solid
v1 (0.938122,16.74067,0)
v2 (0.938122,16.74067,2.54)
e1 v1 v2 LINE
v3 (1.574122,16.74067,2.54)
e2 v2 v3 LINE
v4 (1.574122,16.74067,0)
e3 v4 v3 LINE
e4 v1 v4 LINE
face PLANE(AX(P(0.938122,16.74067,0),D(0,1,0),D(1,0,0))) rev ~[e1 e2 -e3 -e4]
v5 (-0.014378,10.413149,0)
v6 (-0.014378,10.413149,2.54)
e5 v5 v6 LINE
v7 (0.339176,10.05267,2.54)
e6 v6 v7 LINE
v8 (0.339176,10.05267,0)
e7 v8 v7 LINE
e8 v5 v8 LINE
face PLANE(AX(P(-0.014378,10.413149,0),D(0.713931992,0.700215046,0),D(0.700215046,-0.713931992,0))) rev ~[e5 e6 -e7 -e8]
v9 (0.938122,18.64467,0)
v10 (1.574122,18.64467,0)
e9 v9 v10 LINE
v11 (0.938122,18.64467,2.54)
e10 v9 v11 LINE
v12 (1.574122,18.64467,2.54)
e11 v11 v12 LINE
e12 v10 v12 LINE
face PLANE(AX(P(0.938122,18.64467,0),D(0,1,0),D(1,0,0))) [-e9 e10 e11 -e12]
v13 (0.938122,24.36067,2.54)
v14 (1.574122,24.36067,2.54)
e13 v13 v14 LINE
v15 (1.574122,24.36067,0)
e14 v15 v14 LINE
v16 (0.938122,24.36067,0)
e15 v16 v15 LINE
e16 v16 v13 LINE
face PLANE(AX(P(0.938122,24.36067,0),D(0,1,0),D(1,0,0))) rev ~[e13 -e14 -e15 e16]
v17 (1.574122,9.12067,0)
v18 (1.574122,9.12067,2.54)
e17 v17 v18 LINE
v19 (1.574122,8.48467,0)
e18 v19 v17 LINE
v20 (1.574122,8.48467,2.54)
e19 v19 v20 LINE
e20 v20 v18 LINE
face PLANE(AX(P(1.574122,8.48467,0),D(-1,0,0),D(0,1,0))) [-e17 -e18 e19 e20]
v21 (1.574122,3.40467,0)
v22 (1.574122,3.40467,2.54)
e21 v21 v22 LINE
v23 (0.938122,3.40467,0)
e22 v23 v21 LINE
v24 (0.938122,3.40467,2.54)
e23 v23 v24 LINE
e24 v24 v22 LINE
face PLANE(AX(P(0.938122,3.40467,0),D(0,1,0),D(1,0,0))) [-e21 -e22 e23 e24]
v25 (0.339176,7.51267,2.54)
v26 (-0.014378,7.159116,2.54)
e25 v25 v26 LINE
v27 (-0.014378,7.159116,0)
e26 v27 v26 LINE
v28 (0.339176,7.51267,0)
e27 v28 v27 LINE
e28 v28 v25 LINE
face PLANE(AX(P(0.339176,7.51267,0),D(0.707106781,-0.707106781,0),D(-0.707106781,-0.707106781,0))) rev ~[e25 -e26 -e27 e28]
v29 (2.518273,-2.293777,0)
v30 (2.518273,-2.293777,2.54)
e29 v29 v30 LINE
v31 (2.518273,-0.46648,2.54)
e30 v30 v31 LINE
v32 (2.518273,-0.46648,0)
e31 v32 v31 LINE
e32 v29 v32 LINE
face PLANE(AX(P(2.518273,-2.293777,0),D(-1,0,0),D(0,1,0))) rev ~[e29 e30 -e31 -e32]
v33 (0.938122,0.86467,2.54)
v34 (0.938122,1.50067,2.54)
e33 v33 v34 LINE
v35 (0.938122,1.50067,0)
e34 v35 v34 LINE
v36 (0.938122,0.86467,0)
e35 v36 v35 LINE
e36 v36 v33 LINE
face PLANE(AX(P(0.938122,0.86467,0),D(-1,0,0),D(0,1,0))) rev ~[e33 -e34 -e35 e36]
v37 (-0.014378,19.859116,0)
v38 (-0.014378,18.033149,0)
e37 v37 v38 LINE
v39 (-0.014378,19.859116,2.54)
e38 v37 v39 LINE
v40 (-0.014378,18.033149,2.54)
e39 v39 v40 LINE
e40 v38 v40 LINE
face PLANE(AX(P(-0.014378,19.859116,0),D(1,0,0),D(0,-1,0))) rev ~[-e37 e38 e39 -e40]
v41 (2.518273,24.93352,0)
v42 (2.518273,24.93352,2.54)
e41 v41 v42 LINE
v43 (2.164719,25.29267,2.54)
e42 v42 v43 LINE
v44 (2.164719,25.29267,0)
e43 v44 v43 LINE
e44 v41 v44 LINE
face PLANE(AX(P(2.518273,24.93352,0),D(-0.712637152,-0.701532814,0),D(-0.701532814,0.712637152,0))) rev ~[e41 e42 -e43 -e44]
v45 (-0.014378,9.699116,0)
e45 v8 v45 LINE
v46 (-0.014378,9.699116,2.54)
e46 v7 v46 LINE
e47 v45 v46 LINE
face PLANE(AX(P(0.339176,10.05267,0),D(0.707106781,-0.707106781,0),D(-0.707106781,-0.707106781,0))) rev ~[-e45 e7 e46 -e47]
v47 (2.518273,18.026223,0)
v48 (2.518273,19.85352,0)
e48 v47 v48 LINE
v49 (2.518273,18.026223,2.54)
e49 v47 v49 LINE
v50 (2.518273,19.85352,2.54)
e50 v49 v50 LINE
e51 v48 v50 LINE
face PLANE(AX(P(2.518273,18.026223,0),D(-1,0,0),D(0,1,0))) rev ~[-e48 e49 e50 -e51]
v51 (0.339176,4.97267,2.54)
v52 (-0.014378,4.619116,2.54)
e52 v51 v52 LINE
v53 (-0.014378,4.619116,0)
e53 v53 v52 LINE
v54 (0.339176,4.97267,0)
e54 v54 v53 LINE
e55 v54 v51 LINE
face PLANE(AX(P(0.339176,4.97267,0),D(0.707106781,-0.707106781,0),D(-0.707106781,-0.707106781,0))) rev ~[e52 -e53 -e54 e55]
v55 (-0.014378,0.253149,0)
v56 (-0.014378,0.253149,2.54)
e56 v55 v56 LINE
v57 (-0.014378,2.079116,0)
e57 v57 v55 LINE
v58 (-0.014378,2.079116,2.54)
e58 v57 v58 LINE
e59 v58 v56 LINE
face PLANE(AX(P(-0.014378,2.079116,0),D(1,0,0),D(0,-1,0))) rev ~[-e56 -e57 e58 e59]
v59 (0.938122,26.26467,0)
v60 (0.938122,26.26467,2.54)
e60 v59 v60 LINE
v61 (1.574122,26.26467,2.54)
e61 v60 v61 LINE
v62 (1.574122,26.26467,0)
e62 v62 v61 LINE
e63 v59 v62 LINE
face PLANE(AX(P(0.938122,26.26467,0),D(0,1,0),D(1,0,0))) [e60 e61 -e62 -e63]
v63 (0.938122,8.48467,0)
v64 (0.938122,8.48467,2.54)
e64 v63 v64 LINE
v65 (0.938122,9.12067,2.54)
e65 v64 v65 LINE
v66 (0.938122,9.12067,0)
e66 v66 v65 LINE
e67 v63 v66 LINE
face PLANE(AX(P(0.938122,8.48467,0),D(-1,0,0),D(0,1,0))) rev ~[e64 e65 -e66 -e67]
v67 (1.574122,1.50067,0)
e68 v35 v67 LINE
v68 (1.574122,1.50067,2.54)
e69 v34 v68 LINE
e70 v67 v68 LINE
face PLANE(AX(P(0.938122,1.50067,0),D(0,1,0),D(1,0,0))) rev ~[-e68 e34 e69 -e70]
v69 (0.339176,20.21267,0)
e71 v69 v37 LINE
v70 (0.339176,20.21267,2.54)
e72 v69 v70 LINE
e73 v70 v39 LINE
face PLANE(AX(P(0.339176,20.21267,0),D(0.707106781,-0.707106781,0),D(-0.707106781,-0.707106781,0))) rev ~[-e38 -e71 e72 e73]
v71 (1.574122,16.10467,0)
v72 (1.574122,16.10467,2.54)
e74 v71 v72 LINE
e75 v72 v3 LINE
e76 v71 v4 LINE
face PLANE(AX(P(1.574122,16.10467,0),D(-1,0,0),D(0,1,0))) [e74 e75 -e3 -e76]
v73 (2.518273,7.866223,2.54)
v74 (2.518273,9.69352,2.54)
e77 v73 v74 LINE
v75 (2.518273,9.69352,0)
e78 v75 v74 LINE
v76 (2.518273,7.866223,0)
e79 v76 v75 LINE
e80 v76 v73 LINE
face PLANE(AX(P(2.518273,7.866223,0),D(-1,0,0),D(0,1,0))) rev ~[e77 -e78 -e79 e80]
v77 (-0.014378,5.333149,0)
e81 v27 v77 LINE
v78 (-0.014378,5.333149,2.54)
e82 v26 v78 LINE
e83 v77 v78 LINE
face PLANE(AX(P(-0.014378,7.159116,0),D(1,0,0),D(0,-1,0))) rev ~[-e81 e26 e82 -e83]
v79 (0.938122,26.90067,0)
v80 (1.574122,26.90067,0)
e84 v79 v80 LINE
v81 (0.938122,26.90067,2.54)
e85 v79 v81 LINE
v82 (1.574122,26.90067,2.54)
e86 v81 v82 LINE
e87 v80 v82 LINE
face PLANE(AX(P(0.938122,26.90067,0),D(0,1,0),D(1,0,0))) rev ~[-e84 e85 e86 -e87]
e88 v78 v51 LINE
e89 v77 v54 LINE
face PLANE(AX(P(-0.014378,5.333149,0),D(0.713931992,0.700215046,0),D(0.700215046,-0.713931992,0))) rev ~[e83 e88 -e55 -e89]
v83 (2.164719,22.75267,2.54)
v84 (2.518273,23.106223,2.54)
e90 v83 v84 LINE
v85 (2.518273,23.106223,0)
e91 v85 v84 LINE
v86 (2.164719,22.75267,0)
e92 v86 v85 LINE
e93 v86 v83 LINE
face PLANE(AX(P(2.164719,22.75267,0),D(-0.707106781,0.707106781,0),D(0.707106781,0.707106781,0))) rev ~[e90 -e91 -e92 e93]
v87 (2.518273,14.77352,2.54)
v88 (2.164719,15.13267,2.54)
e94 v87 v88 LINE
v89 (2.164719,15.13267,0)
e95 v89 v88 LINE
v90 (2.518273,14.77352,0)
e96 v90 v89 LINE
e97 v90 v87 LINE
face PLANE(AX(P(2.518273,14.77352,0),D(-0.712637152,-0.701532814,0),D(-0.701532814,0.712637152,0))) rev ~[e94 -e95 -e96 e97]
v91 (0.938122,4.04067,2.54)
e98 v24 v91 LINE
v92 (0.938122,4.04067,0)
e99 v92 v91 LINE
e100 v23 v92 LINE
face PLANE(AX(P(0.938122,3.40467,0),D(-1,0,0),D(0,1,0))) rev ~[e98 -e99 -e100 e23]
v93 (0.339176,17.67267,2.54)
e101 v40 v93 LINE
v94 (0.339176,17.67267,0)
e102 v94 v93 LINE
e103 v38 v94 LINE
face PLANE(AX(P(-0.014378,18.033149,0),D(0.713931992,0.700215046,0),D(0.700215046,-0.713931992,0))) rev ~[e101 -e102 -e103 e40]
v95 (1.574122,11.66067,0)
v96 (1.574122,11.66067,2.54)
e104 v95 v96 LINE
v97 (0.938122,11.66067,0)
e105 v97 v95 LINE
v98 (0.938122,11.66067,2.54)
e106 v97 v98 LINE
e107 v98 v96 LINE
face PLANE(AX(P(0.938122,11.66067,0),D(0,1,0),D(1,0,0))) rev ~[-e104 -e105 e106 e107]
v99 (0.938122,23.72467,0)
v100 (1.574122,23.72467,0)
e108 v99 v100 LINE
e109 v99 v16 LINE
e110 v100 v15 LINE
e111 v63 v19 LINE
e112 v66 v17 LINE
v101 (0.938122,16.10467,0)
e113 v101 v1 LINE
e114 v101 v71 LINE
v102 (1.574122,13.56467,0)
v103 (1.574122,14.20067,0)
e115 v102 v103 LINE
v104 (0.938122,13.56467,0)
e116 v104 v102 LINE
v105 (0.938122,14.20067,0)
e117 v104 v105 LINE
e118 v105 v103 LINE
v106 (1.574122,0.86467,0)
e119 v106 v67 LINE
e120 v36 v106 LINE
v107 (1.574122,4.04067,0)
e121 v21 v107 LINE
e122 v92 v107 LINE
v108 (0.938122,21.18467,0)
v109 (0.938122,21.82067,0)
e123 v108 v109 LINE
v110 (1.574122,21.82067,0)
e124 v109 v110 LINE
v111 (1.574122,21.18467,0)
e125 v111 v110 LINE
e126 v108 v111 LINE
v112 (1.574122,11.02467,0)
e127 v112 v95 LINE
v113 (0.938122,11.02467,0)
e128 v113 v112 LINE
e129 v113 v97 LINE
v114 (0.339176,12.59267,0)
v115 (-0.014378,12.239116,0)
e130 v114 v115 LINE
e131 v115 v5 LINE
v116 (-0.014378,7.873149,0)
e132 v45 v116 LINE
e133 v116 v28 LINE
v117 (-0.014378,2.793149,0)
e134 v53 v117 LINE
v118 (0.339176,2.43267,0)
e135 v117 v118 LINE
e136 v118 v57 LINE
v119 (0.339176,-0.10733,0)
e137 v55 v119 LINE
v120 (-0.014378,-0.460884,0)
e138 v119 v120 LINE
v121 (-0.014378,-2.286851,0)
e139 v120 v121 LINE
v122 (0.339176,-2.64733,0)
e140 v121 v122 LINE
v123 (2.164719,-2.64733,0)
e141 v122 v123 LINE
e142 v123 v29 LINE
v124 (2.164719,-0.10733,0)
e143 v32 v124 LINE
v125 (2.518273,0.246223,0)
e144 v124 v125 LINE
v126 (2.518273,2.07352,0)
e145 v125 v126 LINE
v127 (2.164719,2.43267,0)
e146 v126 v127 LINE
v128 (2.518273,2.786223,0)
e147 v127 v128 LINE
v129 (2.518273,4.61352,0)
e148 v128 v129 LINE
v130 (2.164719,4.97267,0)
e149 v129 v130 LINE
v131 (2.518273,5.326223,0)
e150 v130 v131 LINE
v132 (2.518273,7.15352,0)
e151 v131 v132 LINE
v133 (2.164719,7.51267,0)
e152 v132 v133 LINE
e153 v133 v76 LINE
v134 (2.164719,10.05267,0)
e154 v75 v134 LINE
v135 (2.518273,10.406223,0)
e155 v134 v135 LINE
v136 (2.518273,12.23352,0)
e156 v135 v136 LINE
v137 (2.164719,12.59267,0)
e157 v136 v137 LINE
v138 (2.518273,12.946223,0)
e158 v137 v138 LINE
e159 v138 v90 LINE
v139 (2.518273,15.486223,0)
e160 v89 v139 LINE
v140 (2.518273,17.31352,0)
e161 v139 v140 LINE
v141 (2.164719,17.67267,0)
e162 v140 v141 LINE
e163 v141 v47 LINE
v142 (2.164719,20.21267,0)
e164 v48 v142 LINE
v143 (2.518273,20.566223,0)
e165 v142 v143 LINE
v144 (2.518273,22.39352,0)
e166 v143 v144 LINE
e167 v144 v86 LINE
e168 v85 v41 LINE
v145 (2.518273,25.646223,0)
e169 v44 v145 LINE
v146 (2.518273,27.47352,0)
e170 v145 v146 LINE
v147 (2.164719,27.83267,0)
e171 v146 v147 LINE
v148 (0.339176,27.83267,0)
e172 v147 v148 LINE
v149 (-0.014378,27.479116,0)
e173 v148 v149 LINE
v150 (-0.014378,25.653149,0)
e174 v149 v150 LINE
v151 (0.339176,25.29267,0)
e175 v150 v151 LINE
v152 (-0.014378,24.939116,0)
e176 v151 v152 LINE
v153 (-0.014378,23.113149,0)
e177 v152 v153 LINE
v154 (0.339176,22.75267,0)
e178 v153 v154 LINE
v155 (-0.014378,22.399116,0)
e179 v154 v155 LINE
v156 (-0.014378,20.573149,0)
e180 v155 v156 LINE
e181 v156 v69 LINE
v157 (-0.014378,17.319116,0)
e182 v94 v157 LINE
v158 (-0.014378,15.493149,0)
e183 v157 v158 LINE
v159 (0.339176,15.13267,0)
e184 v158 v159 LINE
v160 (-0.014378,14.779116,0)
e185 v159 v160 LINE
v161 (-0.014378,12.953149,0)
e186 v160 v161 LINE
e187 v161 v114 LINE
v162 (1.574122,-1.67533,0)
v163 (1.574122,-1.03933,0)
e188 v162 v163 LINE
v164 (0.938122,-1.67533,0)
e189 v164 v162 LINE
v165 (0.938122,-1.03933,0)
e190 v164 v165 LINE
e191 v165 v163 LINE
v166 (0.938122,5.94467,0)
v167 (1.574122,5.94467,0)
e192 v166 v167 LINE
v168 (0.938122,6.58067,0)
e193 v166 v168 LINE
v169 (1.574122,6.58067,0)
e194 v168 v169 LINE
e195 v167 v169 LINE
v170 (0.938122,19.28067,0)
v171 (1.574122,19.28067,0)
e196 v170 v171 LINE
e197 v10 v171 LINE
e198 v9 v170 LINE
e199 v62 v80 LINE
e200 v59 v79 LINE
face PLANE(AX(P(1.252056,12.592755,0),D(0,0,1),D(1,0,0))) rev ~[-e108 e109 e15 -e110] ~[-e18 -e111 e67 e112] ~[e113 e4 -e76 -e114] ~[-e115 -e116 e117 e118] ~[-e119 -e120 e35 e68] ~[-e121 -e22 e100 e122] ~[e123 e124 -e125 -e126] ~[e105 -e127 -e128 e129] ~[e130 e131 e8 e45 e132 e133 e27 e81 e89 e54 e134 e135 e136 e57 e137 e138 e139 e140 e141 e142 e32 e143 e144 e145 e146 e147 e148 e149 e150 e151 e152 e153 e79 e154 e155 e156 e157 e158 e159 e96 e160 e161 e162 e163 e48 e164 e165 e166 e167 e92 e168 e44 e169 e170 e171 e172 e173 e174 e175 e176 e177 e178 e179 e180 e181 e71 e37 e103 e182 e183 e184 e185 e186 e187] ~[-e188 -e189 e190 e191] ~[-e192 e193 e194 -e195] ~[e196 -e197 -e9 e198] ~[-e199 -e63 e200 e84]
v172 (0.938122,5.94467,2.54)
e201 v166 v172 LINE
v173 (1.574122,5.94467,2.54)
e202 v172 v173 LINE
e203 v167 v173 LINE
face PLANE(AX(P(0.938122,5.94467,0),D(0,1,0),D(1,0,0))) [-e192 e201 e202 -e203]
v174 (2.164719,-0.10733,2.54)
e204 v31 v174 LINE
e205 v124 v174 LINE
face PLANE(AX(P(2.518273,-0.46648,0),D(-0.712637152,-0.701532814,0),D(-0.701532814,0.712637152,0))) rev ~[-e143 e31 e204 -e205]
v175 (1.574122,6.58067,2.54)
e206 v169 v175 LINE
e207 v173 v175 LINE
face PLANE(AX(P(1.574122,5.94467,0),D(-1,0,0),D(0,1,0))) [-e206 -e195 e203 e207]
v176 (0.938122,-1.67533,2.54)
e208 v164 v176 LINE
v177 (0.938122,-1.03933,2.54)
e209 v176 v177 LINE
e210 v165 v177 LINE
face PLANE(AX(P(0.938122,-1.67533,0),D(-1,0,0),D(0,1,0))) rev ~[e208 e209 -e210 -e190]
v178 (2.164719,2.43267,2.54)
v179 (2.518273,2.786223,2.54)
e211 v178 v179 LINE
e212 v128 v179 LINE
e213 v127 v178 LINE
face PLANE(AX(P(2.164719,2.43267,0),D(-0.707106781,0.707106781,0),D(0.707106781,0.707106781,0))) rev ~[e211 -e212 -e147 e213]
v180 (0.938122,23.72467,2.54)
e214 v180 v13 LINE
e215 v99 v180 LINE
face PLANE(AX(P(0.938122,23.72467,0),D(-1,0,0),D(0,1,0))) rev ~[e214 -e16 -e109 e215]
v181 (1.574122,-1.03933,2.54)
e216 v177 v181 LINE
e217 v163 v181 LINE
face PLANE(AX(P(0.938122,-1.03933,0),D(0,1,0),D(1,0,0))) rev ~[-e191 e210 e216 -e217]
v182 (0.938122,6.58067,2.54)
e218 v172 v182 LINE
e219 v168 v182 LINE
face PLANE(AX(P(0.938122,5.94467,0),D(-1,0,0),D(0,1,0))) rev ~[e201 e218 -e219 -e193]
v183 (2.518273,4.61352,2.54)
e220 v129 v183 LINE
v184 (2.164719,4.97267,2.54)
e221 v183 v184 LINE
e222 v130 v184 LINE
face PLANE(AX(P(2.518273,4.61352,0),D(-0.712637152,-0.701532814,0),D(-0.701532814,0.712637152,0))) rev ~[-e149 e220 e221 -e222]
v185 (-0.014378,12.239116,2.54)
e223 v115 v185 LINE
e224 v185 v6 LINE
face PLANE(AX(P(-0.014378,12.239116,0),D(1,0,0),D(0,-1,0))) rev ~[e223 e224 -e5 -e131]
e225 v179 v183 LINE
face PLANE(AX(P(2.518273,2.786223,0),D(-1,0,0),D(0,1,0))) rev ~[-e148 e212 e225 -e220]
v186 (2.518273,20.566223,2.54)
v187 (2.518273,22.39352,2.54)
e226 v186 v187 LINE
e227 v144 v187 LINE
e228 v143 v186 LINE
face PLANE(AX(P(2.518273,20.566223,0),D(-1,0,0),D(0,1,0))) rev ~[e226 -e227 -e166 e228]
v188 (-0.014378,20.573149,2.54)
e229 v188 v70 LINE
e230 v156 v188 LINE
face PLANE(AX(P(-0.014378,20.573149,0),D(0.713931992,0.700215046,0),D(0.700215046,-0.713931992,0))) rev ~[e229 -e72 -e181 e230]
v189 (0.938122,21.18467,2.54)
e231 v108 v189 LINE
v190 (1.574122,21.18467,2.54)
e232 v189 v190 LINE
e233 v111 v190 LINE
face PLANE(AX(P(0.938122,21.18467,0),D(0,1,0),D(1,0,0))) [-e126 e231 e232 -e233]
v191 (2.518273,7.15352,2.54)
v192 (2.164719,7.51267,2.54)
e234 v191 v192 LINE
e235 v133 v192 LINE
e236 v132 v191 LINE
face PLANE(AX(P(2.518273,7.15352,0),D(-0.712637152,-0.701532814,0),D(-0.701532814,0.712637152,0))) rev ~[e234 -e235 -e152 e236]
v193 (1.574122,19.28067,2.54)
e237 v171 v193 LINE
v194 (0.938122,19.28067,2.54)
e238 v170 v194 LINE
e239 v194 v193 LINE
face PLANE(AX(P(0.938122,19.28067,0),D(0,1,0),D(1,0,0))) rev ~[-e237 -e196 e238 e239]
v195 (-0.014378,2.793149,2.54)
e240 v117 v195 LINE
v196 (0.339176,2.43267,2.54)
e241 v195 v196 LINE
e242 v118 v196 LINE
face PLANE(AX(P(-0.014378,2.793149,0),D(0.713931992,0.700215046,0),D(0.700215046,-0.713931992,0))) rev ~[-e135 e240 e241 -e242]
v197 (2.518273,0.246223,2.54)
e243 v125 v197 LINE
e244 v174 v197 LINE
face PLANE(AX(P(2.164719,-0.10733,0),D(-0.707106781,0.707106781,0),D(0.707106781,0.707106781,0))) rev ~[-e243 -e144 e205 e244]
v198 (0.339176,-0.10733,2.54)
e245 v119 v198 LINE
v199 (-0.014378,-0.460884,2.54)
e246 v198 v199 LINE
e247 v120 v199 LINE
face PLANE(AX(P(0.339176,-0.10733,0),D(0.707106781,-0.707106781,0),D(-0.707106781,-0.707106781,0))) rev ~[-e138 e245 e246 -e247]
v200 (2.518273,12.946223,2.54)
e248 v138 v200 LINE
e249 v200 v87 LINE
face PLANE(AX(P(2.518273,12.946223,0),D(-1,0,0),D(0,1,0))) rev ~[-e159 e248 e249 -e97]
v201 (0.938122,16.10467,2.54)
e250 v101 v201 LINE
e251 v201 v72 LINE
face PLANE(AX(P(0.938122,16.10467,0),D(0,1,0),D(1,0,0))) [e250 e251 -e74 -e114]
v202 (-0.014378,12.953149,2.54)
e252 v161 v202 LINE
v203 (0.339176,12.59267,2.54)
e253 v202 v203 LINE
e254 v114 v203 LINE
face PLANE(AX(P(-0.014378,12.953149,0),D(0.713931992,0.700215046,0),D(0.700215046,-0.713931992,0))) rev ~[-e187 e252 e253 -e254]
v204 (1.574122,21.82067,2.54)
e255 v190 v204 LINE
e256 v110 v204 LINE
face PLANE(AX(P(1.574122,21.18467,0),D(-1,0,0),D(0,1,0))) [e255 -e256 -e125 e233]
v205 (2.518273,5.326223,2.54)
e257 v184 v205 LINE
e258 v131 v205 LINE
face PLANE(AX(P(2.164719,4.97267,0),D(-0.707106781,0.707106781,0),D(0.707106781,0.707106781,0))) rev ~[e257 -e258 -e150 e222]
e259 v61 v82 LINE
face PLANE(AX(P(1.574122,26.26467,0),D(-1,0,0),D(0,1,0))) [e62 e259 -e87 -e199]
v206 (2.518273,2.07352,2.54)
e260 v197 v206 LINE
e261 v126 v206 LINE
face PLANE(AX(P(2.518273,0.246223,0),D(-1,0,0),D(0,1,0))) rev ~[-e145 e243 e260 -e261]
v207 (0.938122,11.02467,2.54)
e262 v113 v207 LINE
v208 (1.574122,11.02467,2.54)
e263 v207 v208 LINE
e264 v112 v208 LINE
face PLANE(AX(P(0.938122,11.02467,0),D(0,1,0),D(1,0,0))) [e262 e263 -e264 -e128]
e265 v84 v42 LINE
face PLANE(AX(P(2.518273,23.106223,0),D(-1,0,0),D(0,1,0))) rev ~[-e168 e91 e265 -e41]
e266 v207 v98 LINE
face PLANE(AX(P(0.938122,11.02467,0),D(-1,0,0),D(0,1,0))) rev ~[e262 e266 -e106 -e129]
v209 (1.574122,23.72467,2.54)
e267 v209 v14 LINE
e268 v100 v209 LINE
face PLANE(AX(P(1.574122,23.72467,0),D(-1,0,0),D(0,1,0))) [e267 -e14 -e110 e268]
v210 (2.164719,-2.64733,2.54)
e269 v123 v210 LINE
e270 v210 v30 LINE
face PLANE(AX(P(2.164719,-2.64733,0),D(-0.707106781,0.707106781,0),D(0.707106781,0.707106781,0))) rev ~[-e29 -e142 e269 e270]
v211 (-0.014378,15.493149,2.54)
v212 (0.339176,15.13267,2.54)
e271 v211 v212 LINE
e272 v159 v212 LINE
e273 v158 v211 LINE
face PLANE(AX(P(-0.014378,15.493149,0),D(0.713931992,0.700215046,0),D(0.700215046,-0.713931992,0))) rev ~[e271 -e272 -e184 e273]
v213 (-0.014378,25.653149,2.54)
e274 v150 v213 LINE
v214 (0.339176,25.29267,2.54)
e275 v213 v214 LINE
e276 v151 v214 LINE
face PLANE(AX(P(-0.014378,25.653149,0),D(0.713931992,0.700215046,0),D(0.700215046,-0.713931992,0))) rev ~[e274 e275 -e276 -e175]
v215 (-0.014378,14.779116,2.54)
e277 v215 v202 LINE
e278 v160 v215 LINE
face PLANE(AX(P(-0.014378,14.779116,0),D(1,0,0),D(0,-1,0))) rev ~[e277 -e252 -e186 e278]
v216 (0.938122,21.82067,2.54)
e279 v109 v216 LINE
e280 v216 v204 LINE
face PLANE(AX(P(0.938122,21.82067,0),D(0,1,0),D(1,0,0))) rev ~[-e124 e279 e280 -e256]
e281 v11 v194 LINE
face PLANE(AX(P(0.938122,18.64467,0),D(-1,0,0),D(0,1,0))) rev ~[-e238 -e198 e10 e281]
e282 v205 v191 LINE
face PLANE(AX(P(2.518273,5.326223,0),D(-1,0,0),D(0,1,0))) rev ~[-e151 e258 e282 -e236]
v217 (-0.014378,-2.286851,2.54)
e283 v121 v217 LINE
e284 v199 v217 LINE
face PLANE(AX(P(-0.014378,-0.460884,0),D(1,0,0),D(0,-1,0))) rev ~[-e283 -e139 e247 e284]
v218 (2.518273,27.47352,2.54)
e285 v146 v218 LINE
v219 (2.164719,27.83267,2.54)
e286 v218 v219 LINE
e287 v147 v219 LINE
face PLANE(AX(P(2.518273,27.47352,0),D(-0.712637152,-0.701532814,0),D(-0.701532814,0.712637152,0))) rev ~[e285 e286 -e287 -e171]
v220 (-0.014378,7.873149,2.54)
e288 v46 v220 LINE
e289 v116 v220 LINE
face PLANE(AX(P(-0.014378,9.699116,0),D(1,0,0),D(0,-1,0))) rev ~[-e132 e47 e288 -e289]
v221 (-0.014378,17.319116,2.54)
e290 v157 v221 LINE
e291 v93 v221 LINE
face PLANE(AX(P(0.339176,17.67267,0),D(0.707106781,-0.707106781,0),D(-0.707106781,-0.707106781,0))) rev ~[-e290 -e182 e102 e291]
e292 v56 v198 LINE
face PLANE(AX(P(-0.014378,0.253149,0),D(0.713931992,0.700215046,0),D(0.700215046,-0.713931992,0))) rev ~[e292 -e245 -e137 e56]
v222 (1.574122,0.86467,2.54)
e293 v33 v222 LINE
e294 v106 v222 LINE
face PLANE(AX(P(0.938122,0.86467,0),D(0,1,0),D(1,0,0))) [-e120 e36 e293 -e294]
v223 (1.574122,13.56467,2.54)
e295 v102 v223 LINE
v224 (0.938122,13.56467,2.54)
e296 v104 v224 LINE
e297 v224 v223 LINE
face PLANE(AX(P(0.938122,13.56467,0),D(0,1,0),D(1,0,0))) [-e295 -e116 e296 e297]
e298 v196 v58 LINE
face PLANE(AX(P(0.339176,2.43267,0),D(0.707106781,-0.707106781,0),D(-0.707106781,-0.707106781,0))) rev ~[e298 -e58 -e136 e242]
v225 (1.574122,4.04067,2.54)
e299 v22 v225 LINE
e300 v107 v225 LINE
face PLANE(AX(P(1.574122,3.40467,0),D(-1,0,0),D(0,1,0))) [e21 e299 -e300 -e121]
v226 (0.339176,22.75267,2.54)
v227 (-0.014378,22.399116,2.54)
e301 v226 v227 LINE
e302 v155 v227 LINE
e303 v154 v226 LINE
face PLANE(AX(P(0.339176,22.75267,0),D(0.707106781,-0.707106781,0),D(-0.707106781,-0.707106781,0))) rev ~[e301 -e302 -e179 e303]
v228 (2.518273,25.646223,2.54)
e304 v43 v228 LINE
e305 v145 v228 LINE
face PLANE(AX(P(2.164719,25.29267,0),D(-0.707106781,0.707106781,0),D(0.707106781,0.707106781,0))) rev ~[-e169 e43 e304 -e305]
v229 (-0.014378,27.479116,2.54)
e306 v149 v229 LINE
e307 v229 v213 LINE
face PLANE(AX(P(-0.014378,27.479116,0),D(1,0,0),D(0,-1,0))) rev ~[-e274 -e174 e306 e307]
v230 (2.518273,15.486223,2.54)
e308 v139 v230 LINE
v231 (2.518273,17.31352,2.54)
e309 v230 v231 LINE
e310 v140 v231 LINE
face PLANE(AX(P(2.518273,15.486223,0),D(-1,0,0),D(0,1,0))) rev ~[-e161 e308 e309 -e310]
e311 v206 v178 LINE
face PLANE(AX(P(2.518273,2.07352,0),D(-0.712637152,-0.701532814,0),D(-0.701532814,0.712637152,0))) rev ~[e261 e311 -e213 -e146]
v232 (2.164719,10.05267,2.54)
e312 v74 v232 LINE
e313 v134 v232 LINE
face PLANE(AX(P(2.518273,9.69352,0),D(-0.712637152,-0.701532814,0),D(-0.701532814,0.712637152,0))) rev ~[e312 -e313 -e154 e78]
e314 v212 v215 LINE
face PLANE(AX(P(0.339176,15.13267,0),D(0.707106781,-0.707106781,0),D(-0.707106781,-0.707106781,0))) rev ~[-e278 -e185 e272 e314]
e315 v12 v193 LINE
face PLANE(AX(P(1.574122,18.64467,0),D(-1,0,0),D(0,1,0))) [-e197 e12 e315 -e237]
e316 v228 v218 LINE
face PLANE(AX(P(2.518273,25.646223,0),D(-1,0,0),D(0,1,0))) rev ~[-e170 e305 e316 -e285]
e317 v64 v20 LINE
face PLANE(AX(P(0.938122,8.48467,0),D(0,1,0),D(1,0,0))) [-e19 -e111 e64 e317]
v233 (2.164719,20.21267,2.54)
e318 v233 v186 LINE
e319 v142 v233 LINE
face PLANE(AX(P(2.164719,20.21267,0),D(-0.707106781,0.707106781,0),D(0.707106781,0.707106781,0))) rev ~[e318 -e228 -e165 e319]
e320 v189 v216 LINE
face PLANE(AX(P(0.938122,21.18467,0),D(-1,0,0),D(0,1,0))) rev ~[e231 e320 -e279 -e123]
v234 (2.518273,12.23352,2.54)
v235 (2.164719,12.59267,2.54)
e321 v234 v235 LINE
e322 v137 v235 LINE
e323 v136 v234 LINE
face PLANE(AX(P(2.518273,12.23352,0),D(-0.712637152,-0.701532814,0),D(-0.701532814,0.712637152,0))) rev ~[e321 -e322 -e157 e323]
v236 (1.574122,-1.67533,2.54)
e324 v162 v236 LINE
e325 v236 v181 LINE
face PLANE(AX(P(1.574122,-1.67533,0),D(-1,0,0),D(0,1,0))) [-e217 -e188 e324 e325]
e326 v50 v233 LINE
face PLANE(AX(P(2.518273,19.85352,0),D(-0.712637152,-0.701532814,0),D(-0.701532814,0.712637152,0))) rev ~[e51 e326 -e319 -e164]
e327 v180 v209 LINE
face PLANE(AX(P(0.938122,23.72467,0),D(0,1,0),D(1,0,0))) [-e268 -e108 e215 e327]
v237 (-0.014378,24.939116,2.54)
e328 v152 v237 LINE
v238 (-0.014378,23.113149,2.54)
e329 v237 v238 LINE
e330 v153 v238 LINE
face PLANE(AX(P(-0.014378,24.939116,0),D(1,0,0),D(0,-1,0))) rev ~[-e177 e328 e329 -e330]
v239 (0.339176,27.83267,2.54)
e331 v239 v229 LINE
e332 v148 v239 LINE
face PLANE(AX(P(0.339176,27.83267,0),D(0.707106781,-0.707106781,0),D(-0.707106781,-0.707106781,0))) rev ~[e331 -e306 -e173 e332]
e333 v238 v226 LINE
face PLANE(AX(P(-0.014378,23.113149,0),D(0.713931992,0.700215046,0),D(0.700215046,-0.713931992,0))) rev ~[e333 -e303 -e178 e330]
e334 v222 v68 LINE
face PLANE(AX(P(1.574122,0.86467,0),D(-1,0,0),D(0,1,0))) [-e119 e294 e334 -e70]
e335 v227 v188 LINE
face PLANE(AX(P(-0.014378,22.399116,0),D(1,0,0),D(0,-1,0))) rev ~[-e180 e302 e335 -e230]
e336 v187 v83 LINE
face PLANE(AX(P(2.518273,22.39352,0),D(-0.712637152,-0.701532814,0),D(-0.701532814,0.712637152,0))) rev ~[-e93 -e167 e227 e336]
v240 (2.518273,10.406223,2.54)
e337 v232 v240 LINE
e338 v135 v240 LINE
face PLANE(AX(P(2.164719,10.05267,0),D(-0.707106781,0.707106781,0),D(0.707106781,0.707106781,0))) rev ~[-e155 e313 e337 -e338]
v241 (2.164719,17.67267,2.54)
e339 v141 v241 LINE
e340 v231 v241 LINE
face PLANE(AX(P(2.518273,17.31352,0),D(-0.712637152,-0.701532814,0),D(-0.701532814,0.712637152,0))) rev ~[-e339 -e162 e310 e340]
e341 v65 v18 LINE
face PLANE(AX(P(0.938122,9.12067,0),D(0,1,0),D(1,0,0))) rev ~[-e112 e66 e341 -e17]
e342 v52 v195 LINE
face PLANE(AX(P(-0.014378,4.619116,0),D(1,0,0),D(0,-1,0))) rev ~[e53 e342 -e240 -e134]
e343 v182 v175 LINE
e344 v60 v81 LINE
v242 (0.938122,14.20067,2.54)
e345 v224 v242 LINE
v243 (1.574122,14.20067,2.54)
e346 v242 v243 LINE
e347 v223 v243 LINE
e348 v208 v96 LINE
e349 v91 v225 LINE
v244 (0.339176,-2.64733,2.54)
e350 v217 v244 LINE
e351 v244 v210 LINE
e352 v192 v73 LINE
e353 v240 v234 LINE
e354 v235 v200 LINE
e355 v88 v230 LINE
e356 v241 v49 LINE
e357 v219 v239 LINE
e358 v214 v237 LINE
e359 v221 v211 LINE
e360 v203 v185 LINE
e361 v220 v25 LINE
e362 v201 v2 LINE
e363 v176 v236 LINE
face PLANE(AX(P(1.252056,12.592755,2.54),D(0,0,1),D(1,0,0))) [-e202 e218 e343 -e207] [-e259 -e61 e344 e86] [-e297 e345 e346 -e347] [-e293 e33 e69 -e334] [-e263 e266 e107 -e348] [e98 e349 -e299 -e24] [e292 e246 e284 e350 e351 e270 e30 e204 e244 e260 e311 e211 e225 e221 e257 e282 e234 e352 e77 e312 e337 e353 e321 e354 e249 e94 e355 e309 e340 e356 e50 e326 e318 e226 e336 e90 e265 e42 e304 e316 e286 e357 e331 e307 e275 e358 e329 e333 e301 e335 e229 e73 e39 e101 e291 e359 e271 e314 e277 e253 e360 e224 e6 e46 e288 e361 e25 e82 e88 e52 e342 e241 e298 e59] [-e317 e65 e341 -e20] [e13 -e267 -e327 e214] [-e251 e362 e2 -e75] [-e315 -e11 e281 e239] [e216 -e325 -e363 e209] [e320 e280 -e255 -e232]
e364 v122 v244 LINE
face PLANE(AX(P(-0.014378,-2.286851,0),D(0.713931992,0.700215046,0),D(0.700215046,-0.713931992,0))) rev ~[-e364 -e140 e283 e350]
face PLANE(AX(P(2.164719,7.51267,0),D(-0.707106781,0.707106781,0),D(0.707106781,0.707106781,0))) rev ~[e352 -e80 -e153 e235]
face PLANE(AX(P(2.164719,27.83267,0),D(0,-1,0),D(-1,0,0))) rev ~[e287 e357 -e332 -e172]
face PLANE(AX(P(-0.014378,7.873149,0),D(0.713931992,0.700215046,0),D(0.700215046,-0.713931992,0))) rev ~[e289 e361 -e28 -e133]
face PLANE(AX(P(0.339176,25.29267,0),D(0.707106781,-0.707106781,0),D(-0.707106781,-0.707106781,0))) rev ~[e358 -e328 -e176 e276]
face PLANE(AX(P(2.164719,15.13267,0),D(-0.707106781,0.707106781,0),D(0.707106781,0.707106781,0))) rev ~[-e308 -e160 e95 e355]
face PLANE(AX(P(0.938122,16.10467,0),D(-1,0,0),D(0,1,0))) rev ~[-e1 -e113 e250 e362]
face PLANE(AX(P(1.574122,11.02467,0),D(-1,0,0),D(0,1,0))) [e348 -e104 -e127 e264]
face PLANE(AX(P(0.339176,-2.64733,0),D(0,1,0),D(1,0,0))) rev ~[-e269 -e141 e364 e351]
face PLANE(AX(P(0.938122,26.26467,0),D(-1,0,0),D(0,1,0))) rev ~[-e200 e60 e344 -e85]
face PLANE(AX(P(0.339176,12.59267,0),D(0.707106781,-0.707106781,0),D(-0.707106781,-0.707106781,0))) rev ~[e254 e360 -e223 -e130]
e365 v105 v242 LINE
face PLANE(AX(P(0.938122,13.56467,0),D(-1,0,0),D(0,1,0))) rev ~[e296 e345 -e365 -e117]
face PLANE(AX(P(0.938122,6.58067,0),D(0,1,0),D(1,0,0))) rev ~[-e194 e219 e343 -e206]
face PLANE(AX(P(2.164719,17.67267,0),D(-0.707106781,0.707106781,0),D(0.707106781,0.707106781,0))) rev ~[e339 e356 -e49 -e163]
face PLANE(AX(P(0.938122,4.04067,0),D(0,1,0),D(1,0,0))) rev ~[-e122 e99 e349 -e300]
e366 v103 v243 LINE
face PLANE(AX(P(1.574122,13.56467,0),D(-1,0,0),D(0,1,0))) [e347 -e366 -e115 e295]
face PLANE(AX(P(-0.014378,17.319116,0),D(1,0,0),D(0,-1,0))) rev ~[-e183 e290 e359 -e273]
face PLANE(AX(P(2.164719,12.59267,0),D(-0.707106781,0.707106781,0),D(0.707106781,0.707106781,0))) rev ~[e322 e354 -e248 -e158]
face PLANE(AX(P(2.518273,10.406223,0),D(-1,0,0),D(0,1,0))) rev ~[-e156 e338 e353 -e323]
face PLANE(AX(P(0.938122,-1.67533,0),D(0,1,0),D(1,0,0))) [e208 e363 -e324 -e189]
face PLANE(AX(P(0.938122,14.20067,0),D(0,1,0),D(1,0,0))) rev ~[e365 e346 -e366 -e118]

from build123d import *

# Parameters (mm, degrees)
PIN_DRAWING_W       = 0.636
PIN_DRAWING_H       = 0.636
BOSS_EXTRUDE1_DEPTH = 2.54


with BuildPart() as part:
    # pin_drawing → Boss-Extrude1 (new body)
    with BuildSketch(Plane.XY):
        Polygon((-0.014377737, 2.079116284), (-0.014377737, 0.25314904), (0.339175653, -0.107330326), (-0.014377737, -0.460883716), (-0.014377737, -2.28685096), (0.339175653, -2.647330326), (2.164719162, -2.647330326), (2.518272553, -2.293776935), (2.518272553, -0.46648), (2.164719162, -0.107330326), (2.518272553, 0.246223065), (2.518272553, 2.07352), (2.164719162, 2.432669674), (2.518272553, 2.786223065), (2.518272553, 4.61352), (2.164719162, 4.972669674), (2.518272553, 5.326223065), (2.518272553, 7.15352), (2.164719162, 7.512669674), (2.518272553, 7.866223065), (2.518272553, 9.69352), (2.164719162, 10.052669674), (2.518272553, 10.406223065), (2.518272553, 12.23352), (2.164719162, 12.592669674), (2.518272553, 12.946223065), (2.518272553, 14.77352), (2.164719162, 15.132669674), (2.518272553, 15.486223065), (2.518272553, 17.31352), (2.164719162, 17.672669674), (2.518272553, 18.026223065), (2.518272553, 19.85352), (2.164719162, 20.212669674), (2.518272553, 20.566223065), (2.518272553, 22.39352), (2.164719162, 22.752669674), (2.518272553, 23.106223065), (2.518272553, 24.93352), (2.164719162, 25.292669674), (2.518272553, 25.646223065), (2.518272553, 27.47352), (2.164719162, 27.832669674), (0.339175653, 27.832669674), (-0.014377737, 27.479116284), (-0.014377737, 25.65314904), (0.339175653, 25.292669674), (-0.014377737, 24.939116284), (-0.014377737, 23.11314904), (0.339175653, 22.752669674), (-0.014377737, 22.399116284), (-0.014377737, 20.57314904), (0.339175653, 20.212669674), (-0.014377737, 19.859116284), (-0.014377737, 18.03314904), (0.339175653, 17.672669674), (-0.014377737, 17.319116284), (-0.014377737, 15.49314904), (0.339175653, 15.132669674), (-0.014377737, 14.779116284), (-0.014377737, 12.95314904), (0.339175653, 12.592669674), (-0.014377737, 12.239116284), (-0.014377737, 10.41314904), (0.339175653, 10.052669674), (-0.014377737, 9.699116284), (-0.014377737, 7.87314904), (0.339175653, 7.512669674), (-0.014377737, 7.159116284), (-0.014377737, 5.33314904), (0.339175653, 4.972669674), (-0.014377737, 4.619116284), (-0.014377737, 2.79314904), (0.339175653, 2.432669674), align=None)
        with Locations((1.256122263, -1.357330326)):
            Rectangle(PIN_DRAWING_W, PIN_DRAWING_H, mode=Mode.SUBTRACT)
        with Locations((1.256122263, 1.182669674)):
            Rectangle(PIN_DRAWING_W, PIN_DRAWING_H, mode=Mode.SUBTRACT)
        with Locations((1.256122263, 3.722669674)):
            Rectangle(PIN_DRAWING_W, PIN_DRAWING_H, mode=Mode.SUBTRACT)
        with Locations((1.256122263, 6.262669674)):
            Rectangle(PIN_DRAWING_W, PIN_DRAWING_H, mode=Mode.SUBTRACT)
        with Locations((1.256122263, 8.802669674)):
            Rectangle(PIN_DRAWING_W, PIN_DRAWING_H, mode=Mode.SUBTRACT)
        with Locations((1.256122263, 11.342669674)):
            Rectangle(PIN_DRAWING_W, PIN_DRAWING_H, mode=Mode.SUBTRACT)
        with Locations((1.256122263, 13.882669674)):
            Rectangle(PIN_DRAWING_W, PIN_DRAWING_H, mode=Mode.SUBTRACT)
        with Locations((1.256122263, 16.422669674)):
            Rectangle(PIN_DRAWING_W, PIN_DRAWING_H, mode=Mode.SUBTRACT)
        with Locations((1.256122263, 18.962669674)):
            Rectangle(PIN_DRAWING_W, PIN_DRAWING_H, mode=Mode.SUBTRACT)
        with Locations((1.256122263, 21.502669674)):
            Rectangle(PIN_DRAWING_W, PIN_DRAWING_H, mode=Mode.SUBTRACT)
        with Locations((1.256122263, 24.042669674)):
            Rectangle(PIN_DRAWING_W, PIN_DRAWING_H, mode=Mode.SUBTRACT)
        with Locations((1.256122263, 26.582669674)):
            Rectangle(PIN_DRAWING_W, PIN_DRAWING_H, mode=Mode.SUBTRACT)
    extrude(amount=BOSS_EXTRUDE1_DEPTH)


solid = part.part
